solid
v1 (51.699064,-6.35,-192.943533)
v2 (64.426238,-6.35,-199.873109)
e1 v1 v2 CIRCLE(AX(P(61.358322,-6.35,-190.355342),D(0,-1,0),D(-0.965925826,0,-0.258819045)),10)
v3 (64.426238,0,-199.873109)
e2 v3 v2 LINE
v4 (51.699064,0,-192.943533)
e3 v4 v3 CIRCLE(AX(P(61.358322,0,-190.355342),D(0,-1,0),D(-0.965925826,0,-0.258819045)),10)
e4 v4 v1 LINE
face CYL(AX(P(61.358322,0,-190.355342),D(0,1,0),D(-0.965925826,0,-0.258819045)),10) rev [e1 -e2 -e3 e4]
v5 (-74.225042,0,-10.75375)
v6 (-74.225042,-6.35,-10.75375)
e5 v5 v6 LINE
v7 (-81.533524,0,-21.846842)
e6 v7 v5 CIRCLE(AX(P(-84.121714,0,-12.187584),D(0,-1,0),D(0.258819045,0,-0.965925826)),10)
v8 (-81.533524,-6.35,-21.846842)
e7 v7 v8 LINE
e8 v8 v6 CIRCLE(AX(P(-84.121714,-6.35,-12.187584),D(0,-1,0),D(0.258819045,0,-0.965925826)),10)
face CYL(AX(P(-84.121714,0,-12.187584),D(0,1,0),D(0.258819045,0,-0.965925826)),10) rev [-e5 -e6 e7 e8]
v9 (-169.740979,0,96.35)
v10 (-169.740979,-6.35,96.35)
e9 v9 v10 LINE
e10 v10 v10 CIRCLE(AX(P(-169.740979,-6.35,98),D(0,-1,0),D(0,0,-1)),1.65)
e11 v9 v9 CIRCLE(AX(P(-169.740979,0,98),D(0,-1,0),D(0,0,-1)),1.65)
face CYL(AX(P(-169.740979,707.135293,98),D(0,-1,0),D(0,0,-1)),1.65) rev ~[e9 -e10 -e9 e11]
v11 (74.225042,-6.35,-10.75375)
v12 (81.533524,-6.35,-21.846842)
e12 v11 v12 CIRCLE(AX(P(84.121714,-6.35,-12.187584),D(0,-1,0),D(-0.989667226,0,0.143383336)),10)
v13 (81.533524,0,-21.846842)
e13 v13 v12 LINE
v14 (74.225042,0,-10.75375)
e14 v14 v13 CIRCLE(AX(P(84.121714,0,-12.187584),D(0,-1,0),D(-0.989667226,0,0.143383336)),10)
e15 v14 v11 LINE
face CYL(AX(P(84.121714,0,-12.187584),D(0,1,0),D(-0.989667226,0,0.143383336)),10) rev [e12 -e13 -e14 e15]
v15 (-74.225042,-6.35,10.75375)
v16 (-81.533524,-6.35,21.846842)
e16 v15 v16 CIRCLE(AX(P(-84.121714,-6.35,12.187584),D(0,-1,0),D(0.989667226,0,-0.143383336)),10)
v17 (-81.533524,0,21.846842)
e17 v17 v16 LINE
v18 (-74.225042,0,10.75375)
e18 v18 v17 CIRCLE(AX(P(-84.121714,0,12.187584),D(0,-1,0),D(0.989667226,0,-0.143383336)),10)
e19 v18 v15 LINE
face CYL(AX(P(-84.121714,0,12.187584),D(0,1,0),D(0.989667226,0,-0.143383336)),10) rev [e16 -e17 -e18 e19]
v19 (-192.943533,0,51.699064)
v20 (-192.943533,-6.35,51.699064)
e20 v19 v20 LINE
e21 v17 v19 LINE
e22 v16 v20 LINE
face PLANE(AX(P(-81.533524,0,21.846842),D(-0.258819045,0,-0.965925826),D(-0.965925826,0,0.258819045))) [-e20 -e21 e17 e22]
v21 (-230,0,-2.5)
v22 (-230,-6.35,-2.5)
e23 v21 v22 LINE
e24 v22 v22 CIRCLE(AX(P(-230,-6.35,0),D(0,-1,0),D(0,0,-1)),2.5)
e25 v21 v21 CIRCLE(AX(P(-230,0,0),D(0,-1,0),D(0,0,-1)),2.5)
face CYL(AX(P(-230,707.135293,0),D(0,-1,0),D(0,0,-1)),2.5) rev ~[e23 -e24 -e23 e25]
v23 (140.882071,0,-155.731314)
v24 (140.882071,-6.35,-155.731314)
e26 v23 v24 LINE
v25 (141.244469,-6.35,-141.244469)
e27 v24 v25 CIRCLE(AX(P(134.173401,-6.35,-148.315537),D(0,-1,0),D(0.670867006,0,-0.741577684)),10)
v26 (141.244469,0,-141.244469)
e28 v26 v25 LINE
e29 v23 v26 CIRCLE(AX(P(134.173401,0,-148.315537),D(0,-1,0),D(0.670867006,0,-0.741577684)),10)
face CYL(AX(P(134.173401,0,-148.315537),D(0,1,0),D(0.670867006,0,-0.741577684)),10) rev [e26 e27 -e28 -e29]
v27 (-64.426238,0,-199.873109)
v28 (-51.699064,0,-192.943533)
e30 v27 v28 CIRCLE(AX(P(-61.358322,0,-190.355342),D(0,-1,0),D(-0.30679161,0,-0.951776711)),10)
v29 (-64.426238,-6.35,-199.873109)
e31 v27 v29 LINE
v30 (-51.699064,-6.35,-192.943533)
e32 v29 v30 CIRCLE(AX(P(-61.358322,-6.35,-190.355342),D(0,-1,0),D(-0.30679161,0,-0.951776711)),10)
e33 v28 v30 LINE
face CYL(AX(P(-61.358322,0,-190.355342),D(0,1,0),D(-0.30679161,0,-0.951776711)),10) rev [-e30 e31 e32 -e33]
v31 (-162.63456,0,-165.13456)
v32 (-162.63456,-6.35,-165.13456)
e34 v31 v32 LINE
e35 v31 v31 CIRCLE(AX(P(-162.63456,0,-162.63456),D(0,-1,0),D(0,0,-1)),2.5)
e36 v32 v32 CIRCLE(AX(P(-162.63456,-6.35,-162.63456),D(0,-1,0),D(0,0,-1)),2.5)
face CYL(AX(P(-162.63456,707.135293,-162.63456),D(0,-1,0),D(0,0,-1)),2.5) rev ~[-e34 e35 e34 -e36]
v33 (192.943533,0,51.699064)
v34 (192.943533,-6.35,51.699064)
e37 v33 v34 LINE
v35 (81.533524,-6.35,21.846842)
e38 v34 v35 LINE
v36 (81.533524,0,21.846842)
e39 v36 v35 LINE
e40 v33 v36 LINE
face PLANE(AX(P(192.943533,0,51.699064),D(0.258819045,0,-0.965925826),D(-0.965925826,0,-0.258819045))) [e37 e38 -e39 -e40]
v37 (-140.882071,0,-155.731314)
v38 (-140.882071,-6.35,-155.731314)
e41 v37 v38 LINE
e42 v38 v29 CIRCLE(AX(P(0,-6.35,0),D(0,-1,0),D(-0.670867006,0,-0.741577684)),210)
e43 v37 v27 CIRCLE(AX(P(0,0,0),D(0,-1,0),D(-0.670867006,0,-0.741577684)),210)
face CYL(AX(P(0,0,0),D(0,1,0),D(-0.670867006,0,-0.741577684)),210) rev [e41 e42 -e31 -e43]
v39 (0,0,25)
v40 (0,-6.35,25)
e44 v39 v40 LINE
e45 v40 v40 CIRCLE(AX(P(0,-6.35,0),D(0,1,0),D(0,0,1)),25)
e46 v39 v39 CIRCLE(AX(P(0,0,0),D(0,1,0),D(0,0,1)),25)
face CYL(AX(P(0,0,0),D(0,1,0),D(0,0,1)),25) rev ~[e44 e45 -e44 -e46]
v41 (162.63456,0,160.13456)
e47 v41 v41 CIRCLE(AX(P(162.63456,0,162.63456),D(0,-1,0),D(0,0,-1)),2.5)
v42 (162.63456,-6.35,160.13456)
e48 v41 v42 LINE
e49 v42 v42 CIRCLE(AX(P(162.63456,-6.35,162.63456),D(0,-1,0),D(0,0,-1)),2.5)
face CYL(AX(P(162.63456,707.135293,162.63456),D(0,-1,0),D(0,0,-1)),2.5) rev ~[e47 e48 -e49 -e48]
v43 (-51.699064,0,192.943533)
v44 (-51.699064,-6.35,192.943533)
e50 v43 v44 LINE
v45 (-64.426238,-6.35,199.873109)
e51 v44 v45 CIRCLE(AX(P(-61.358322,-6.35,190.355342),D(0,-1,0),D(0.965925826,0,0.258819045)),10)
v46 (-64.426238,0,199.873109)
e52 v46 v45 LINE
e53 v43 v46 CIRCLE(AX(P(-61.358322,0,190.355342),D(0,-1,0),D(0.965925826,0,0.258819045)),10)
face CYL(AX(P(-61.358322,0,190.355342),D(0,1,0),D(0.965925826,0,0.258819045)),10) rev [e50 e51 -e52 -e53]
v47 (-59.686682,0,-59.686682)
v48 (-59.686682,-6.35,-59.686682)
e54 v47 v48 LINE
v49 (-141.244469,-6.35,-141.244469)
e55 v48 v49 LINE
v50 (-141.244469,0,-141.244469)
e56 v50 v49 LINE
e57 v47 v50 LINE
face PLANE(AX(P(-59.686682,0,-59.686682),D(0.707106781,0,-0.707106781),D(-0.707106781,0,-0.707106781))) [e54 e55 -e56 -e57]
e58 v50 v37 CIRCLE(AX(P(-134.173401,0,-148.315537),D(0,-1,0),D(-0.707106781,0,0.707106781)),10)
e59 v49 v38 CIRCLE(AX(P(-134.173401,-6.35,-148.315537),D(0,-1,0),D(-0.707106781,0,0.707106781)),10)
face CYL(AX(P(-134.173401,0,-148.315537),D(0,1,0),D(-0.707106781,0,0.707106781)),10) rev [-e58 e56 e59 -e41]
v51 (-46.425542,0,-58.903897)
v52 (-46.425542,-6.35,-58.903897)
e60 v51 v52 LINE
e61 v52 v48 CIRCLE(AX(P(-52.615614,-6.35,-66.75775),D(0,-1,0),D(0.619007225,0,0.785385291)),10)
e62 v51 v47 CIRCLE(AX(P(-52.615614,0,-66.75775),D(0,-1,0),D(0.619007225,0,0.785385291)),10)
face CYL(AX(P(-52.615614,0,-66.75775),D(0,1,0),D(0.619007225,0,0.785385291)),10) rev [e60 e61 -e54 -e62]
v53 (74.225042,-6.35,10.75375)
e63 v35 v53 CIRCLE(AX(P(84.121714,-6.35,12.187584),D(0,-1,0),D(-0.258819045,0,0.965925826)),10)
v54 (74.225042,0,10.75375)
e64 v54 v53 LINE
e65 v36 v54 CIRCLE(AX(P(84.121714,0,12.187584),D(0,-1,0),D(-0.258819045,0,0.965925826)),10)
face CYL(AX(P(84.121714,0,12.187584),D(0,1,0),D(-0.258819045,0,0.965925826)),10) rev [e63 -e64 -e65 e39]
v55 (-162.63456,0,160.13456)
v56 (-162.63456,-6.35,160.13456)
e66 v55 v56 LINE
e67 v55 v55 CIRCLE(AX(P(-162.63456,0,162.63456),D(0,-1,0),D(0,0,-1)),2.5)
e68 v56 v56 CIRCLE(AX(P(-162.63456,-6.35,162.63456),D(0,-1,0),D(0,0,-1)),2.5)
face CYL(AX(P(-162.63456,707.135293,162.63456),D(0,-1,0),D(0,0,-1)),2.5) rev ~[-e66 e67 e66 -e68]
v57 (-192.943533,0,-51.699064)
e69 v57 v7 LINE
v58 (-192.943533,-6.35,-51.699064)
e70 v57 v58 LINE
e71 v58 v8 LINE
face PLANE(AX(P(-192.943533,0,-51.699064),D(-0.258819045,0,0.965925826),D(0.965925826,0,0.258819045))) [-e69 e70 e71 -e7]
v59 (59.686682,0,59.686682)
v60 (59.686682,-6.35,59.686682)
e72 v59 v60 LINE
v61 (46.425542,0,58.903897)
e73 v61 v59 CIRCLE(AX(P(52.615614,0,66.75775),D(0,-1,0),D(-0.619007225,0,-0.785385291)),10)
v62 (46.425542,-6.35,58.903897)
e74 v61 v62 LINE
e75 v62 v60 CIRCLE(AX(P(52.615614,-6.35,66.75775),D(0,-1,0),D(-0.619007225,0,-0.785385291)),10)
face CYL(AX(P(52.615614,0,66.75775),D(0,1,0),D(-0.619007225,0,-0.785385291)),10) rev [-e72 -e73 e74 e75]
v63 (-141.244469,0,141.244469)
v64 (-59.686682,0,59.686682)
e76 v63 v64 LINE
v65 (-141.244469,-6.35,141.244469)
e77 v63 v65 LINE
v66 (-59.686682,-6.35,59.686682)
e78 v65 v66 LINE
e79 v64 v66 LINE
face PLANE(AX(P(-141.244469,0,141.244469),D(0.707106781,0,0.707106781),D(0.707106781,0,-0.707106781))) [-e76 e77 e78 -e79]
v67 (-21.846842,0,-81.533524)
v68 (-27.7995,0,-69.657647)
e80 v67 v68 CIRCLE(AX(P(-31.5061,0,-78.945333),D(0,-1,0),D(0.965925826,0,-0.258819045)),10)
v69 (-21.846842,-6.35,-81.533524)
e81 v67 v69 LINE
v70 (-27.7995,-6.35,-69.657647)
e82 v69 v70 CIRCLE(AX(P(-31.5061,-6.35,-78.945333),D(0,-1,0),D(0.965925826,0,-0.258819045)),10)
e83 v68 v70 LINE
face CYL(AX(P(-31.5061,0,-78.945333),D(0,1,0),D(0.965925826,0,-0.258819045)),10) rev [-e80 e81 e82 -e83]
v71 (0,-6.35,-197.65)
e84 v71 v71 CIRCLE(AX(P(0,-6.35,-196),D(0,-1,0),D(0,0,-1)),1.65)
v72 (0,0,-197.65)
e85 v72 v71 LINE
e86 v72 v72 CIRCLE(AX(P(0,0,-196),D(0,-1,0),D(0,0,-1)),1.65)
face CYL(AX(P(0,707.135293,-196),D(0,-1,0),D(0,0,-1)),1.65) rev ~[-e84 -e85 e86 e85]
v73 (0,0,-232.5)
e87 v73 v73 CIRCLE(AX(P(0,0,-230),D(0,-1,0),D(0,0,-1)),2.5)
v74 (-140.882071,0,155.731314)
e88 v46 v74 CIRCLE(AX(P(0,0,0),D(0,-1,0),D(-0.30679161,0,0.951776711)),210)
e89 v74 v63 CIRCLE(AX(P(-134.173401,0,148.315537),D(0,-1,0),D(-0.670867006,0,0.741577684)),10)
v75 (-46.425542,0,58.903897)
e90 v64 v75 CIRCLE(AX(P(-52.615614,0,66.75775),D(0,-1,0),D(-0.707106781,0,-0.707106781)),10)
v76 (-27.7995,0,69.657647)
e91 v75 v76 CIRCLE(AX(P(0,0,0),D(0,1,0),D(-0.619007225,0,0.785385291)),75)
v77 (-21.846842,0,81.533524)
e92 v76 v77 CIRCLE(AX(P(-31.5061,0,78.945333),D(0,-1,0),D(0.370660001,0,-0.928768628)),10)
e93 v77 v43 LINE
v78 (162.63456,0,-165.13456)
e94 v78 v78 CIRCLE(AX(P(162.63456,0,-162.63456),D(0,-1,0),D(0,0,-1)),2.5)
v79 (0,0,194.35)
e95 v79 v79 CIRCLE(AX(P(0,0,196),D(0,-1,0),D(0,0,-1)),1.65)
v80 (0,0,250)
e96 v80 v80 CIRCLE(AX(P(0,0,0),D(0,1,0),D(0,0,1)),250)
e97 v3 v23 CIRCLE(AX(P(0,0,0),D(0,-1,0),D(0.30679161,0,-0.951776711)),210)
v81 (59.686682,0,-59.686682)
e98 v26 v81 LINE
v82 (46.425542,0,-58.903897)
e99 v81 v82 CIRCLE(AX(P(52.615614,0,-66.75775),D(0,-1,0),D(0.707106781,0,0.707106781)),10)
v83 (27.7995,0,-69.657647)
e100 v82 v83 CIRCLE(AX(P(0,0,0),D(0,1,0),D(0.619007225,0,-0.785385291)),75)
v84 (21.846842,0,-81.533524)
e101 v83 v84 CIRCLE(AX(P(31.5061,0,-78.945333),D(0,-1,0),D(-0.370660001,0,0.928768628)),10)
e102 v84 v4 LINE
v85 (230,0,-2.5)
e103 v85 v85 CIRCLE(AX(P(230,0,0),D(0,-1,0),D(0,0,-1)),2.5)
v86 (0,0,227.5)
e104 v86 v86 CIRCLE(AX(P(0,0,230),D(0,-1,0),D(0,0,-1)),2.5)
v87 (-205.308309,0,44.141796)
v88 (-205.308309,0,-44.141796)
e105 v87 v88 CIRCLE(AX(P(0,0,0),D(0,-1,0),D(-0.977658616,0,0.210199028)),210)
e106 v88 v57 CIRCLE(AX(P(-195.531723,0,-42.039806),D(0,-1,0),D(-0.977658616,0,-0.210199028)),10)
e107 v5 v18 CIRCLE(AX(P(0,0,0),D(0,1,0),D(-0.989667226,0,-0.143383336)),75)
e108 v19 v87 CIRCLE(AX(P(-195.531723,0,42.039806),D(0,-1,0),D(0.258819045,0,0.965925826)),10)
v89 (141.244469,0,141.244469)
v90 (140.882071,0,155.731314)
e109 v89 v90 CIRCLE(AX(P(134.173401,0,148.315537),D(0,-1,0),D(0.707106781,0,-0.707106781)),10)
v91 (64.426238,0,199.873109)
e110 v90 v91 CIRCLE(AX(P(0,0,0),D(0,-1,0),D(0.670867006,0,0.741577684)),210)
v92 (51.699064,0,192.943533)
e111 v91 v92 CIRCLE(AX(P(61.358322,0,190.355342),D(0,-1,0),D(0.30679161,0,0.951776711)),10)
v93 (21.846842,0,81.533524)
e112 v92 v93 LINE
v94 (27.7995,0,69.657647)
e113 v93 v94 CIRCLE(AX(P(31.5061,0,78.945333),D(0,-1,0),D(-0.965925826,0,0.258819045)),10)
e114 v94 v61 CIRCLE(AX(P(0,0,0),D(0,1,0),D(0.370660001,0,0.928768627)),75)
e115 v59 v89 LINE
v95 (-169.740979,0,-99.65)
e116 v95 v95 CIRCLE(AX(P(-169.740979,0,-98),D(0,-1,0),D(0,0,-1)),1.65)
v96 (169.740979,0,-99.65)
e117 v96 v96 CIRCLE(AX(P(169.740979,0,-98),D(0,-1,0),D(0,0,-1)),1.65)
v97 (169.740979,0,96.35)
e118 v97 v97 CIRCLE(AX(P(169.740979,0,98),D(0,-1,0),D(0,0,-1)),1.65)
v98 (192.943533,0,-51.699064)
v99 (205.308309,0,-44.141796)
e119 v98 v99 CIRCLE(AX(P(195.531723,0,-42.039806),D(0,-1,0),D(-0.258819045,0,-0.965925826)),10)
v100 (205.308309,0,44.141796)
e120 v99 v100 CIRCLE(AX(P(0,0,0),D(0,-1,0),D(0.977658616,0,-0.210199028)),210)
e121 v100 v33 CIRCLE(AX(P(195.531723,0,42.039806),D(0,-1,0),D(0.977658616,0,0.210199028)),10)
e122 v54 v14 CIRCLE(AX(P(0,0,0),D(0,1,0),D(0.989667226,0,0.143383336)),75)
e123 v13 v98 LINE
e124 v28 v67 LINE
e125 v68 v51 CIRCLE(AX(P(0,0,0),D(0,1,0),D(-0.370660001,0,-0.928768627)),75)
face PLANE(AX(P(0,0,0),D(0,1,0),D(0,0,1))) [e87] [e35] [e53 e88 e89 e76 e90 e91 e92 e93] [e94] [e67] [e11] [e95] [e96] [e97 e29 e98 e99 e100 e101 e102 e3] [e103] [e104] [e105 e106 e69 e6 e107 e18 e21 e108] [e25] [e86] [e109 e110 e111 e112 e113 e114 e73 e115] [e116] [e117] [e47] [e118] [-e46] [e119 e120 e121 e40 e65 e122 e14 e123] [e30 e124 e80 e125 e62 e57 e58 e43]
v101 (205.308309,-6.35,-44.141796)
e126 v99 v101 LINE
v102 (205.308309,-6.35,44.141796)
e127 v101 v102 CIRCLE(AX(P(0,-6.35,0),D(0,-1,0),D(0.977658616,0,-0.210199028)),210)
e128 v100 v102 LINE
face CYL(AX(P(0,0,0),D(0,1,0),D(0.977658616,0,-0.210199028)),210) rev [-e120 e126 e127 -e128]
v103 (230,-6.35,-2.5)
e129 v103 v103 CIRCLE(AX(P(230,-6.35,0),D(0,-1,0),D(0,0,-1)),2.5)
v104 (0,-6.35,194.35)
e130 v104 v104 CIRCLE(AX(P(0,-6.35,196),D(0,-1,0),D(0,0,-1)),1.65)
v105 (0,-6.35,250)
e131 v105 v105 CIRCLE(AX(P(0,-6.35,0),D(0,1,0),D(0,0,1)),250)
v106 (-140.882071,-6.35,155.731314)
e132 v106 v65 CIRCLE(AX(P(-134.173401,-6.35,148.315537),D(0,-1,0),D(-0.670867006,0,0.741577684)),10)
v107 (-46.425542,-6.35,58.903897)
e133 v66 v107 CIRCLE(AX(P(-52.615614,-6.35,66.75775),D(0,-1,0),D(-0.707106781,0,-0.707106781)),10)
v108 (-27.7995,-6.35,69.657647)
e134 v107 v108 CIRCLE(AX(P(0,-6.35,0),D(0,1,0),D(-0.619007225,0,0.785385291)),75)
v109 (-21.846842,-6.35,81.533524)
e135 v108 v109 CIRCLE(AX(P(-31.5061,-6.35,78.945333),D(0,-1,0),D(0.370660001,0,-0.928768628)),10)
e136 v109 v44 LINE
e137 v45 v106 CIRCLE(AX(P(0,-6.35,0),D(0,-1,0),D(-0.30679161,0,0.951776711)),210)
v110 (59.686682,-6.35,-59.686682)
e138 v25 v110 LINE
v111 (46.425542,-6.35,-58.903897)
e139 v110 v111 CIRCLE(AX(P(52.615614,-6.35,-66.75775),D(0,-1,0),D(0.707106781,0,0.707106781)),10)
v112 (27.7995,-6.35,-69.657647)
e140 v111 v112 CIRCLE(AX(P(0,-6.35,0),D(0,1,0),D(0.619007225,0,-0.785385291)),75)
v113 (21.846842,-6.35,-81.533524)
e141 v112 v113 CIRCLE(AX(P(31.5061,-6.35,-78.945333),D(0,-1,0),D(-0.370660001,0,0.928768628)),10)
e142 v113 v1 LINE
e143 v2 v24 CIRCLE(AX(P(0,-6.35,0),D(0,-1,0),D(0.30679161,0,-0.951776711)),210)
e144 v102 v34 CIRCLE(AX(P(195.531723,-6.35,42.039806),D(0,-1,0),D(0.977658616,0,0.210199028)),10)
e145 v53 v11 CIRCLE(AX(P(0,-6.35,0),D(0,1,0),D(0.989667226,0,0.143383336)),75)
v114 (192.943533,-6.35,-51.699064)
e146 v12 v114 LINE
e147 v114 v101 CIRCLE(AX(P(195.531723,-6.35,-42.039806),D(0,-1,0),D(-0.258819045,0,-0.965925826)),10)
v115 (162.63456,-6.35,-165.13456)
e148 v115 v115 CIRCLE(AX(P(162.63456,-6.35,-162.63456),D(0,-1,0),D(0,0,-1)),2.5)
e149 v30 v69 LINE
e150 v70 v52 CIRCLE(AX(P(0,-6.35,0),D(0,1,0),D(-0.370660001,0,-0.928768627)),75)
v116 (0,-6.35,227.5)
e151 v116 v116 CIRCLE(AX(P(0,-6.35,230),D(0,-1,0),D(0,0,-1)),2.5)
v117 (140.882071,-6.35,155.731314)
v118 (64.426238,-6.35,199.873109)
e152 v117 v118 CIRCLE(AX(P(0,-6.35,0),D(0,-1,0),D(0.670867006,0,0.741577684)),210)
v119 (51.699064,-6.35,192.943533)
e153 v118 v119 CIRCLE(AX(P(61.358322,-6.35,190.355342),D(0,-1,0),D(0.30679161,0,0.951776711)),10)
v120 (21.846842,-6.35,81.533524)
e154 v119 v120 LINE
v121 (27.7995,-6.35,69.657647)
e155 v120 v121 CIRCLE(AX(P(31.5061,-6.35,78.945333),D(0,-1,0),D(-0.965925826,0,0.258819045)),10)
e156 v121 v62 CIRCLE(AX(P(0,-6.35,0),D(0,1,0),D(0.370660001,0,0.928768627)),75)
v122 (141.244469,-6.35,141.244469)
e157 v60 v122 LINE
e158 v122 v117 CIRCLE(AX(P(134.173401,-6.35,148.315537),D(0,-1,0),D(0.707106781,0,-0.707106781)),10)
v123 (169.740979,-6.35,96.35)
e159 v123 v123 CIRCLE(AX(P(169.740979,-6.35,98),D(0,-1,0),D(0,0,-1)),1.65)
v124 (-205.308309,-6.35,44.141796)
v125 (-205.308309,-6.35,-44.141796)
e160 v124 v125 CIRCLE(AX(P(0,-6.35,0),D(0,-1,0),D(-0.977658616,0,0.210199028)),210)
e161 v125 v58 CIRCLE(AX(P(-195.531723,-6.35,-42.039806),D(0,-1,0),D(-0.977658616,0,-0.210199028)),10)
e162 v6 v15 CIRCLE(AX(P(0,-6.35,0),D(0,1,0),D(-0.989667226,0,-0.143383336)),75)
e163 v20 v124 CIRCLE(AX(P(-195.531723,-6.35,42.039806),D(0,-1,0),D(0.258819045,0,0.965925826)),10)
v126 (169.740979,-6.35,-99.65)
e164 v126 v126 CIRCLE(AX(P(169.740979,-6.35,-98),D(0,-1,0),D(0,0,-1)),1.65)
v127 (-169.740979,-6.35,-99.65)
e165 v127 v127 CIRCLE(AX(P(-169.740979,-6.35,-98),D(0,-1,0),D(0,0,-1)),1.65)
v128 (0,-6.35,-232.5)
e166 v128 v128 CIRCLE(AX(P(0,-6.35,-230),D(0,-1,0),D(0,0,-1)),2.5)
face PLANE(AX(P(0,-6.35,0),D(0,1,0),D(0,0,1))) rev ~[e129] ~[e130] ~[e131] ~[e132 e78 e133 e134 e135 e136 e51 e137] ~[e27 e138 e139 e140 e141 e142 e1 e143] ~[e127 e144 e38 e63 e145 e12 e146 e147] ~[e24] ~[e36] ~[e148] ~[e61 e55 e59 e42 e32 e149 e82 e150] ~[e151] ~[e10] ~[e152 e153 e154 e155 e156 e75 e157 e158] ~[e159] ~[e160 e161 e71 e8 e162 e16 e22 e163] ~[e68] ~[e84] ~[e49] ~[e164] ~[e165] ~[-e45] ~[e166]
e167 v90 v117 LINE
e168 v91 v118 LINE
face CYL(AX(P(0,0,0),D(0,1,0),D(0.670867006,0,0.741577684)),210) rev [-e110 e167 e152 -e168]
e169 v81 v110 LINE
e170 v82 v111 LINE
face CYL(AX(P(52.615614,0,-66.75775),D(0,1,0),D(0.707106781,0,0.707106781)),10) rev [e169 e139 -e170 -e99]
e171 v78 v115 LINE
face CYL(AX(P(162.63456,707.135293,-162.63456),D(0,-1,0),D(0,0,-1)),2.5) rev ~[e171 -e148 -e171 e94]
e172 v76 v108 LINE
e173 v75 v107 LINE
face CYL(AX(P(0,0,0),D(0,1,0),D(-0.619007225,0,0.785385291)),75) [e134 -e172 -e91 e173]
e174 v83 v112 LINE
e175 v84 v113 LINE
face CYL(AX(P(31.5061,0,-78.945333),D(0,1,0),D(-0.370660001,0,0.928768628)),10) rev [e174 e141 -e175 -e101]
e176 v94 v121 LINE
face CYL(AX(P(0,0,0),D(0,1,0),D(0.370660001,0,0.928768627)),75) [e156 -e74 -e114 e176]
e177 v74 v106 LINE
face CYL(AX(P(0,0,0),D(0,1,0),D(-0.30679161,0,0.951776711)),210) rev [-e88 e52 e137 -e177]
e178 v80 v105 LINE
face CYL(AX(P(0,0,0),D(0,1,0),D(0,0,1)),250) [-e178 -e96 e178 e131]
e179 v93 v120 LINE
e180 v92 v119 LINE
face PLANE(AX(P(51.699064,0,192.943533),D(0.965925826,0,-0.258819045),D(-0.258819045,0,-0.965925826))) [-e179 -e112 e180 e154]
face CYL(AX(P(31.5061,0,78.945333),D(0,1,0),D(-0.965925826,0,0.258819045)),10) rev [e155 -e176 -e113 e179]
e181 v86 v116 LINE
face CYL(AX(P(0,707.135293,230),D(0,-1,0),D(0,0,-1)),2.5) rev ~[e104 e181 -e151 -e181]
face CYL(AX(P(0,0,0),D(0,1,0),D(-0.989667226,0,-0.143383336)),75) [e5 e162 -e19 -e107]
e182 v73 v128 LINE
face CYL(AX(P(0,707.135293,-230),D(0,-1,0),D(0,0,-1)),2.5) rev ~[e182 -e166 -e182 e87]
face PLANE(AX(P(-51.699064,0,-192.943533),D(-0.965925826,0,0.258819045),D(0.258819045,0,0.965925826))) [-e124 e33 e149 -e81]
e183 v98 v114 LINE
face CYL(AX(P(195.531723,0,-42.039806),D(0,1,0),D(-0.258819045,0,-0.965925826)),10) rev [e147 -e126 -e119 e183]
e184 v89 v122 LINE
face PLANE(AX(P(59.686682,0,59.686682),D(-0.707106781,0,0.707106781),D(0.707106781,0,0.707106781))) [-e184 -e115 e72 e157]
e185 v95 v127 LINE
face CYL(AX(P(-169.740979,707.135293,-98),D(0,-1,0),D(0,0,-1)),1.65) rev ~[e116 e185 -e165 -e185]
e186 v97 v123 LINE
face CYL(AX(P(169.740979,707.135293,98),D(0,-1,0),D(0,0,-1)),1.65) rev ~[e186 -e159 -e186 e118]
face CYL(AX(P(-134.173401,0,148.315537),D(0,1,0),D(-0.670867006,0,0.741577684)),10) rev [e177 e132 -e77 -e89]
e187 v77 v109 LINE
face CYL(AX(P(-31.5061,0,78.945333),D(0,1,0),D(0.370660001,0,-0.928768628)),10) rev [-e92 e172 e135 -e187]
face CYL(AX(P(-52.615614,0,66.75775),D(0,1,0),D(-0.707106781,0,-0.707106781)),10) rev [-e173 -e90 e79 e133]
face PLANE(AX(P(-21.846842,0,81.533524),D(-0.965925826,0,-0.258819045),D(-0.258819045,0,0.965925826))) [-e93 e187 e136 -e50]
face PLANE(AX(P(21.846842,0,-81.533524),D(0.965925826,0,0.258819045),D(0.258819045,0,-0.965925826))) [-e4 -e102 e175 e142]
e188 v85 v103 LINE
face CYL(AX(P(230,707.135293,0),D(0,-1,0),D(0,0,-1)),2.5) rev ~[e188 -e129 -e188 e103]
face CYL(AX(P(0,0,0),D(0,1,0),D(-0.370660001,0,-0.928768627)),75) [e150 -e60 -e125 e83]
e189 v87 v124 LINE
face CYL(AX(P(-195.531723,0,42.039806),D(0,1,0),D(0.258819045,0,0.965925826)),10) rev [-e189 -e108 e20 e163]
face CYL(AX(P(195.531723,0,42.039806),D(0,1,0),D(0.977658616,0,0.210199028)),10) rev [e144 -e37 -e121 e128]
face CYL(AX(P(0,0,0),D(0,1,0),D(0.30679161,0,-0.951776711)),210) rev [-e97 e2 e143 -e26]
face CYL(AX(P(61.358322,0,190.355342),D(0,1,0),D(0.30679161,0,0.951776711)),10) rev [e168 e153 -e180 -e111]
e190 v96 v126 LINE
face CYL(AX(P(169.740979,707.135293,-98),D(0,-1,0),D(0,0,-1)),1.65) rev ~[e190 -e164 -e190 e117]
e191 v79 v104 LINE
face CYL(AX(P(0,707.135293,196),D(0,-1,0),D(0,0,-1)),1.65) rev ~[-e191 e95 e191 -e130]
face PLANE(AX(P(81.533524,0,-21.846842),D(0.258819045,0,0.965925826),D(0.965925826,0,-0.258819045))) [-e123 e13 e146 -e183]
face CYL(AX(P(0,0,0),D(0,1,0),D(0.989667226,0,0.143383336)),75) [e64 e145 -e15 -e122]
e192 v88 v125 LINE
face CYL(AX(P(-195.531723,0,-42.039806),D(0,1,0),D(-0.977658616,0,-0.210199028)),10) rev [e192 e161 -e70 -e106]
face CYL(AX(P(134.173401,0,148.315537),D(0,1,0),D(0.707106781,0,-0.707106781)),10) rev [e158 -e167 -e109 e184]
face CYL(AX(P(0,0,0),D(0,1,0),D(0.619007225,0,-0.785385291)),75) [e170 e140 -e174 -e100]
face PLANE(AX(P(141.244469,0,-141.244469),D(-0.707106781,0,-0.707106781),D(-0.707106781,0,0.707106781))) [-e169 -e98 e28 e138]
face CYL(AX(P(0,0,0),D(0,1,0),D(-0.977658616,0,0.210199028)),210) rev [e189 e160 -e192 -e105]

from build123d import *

# Parameters (mm, degrees)
SKETCH1_R                   = 250
SKETCH1_R_2                 = 25
BOSS_EXTRUDE1_DEPTH         = 6.35
TAP_DRILL_FOR_M4X0_7_TAP1_D = 3.3
TAP_DRILL_FOR_M6X1_0_TAP1_D = 5


with BuildPart() as part:
    # Sketch1 → Boss-Extrude1 (new body)
    with BuildSketch(Plane(origin=(0, 0, 0), x_dir=(1, 0, 0), z_dir=(0, 1, 0))):
        with Locations(Location((0, 0, 0), (0, 0, 270))):
            Circle(SKETCH1_R)
        with Locations(Location((0, 0, 0), (0, 0, 270))):
            Circle(SKETCH1_R_2, mode=Mode.SUBTRACT)
        with BuildLine():
            Line((-51.699063768, 192.943532686), (-21.846841855, 81.533523786))
            ThreePointArc((-21.846841855, 81.533523786), (-22.566264891, 74.464334994), (-27.799500104, 69.65764706))
            ThreePointArc((-27.799500104, 69.65764706), (-37.5, 64.951905284), (-46.42554187, 58.903896832))
            ThreePointArc((-46.42554187, 58.903896832), (-53.204873335, 56.775126162), (-59.686681932, 59.686681932))
            Line((-59.686681932, 59.686681932), (-141.244468918, 141.244468918))
            ThreePointArc((-141.244468918, 141.244468918), (-144.170273662, 148.565614941), (-140.882071162, 155.731313567))
            ThreePointArc((-140.882071162, 155.731313567), (-105, 181.865334795), (-64.426238133, 199.873109347))
            ThreePointArc((-64.426238133, 199.873109347), (-56.576459837, 199.137926932), (-51.699063768, 192.943532686))
        make_face(mode=Mode.SUBTRACT)
        with BuildLine():
            Line((141.244468918, 141.244468918), (59.686681932, 59.686681932))
            ThreePointArc((59.686681932, 59.686681932), (53.204873335, 56.775126162), (46.42554187, 58.903896832))
            ThreePointArc((46.42554187, 58.903896832), (37.5, 64.951905284), (27.799500104, 69.65764706))
            ThreePointArc((27.799500104, 69.65764706), (22.566264891, 74.464334994), (21.846841855, 81.533523786))
            Line((21.846841855, 81.533523786), (51.699063768, 192.943532686))
            ThreePointArc((51.699063768, 192.943532686), (56.576459837, 199.137926932), (64.426238133, 199.873109347))
            ThreePointArc((64.426238133, 199.873109347), (105, 181.865334795), (140.882071162, 155.731313567))
            ThreePointArc((140.882071162, 155.731313567), (144.170273662, 148.565614941), (141.244468918, 141.244468918))
        make_face(mode=Mode.SUBTRACT)
        with BuildLine():
            Line((192.943532686, -51.699063768), (81.533523786, -21.846841855))
            ThreePointArc((81.533523786, -21.846841855), (75.771138227, -17.689208833), (74.225041974, -10.753750228))
            ThreePointArc((74.225041974, -10.753750228), (75, 0), (74.225041974, 10.753750228))
            ThreePointArc((74.225041974, 10.753750228), (75.771138227, 17.689208833), (81.533523786, 21.846841855))
            Line((81.533523786, 21.846841855), (192.943532686, 51.699063768))
            ThreePointArc((192.943532686, 51.699063768), (200.746733498, 50.572311991), (205.308309294, 44.14179578))
            ThreePointArc((205.308309294, 44.14179578), (210, 0), (205.308309294, -44.14179578))
            ThreePointArc((205.308309294, -44.14179578), (200.746733498, -50.572311991), (192.943532686, -51.699063768))
        make_face(mode=Mode.SUBTRACT)
        with BuildLine():
            Line((51.699063768, -192.943532686), (21.846841855, -81.533523786))
            ThreePointArc((21.846841855, -81.533523786), (22.566264891, -74.464334994), (27.799500104, -69.65764706))
            ThreePointArc((27.799500104, -69.65764706), (37.5, -64.951905284), (46.42554187, -58.903896832))
            ThreePointArc((46.42554187, -58.903896832), (53.204873335, -56.775126162), (59.686681932, -59.686681932))
            Line((59.686681932, -59.686681932), (141.244468918, -141.244468918))
            ThreePointArc((141.244468918, -141.244468918), (144.170273662, -148.565614941), (140.882071162, -155.731313567))
            ThreePointArc((140.882071162, -155.731313567), (105, -181.865334795), (64.426238133, -199.873109347))
            ThreePointArc((64.426238133, -199.873109347), (56.576459837, -199.137926932), (51.699063768, -192.943532686))
        make_face(mode=Mode.SUBTRACT)
        with BuildLine():
            Line((-141.244468918, -141.244468918), (-59.686681932, -59.686681932))
            ThreePointArc((-59.686681932, -59.686681932), (-53.204873335, -56.775126162), (-46.42554187, -58.903896832))
            ThreePointArc((-46.42554187, -58.903896832), (-37.5, -64.951905284), (-27.799500104, -69.65764706))
            ThreePointArc((-27.799500104, -69.65764706), (-22.566264891, -74.464334994), (-21.846841855, -81.533523786))
            Line((-21.846841855, -81.533523786), (-51.699063768, -192.943532686))
            ThreePointArc((-51.699063768, -192.943532686), (-56.576459837, -199.137926932), (-64.426238133, -199.873109347))
            ThreePointArc((-64.426238133, -199.873109347), (-105, -181.865334795), (-140.882071162, -155.731313567))
            ThreePointArc((-140.882071162, -155.731313567), (-144.170273662, -148.565614941), (-141.244468918, -141.244468918))
        make_face(mode=Mode.SUBTRACT)
        with BuildLine():
            Line((-192.943532686, 51.699063768), (-81.533523786, 21.846841855))
            ThreePointArc((-81.533523786, 21.846841855), (-75.771138227, 17.689208833), (-74.225041974, 10.753750228))
            ThreePointArc((-74.225041974, 10.753750228), (-75, 0), (-74.225041974, -10.753750228))
            ThreePointArc((-74.225041974, -10.753750228), (-75.771138227, -17.689208833), (-81.533523786, -21.846841855))
            Line((-81.533523786, -21.846841855), (-192.943532686, -51.699063768))
            ThreePointArc((-192.943532686, -51.699063768), (-200.746733498, -50.572311991), (-205.308309294, -44.14179578))
            ThreePointArc((-205.308309294, -44.14179578), (-210, 0), (-205.308309294, 44.14179578))
            ThreePointArc((-205.308309294, 44.14179578), (-200.746733498, 50.572311991), (-192.943532686, 51.699063768))
        make_face(mode=Mode.SUBTRACT)
    extrude(amount=-BOSS_EXTRUDE1_DEPTH)

    # Tap Drill for M4x0.7 Tap1 (through all)
    with Locations(Plane(origin=(0, 0, -196), x_dir=(0, 0, 1), z_dir=(0, 1, 0))):
        with Locations((0, 0), (98, -169.740979142), (98, 169.740979142), (294, 169.740979142), (294, -169.740979142), (392, 0)):
            Hole(TAP_DRILL_FOR_M4X0_7_TAP1_D / 2)

    # Tap Drill for M6x1.0 Tap1 (through all)
    with Locations(Plane(origin=(0, 0, -230), x_dir=(0, 0, 1), z_dir=(0, 1, 0))):
        with Locations((0, 0), (67.365440327, 162.634559673), (230, 230), (230, -230), (67.365440327, -162.634559673), (460, 0), (392.634559673, -162.634559673), (392.634559673, 162.634559673)):
            Hole(TAP_DRILL_FOR_M6X1_0_TAP1_D / 2)


solid = part.part
